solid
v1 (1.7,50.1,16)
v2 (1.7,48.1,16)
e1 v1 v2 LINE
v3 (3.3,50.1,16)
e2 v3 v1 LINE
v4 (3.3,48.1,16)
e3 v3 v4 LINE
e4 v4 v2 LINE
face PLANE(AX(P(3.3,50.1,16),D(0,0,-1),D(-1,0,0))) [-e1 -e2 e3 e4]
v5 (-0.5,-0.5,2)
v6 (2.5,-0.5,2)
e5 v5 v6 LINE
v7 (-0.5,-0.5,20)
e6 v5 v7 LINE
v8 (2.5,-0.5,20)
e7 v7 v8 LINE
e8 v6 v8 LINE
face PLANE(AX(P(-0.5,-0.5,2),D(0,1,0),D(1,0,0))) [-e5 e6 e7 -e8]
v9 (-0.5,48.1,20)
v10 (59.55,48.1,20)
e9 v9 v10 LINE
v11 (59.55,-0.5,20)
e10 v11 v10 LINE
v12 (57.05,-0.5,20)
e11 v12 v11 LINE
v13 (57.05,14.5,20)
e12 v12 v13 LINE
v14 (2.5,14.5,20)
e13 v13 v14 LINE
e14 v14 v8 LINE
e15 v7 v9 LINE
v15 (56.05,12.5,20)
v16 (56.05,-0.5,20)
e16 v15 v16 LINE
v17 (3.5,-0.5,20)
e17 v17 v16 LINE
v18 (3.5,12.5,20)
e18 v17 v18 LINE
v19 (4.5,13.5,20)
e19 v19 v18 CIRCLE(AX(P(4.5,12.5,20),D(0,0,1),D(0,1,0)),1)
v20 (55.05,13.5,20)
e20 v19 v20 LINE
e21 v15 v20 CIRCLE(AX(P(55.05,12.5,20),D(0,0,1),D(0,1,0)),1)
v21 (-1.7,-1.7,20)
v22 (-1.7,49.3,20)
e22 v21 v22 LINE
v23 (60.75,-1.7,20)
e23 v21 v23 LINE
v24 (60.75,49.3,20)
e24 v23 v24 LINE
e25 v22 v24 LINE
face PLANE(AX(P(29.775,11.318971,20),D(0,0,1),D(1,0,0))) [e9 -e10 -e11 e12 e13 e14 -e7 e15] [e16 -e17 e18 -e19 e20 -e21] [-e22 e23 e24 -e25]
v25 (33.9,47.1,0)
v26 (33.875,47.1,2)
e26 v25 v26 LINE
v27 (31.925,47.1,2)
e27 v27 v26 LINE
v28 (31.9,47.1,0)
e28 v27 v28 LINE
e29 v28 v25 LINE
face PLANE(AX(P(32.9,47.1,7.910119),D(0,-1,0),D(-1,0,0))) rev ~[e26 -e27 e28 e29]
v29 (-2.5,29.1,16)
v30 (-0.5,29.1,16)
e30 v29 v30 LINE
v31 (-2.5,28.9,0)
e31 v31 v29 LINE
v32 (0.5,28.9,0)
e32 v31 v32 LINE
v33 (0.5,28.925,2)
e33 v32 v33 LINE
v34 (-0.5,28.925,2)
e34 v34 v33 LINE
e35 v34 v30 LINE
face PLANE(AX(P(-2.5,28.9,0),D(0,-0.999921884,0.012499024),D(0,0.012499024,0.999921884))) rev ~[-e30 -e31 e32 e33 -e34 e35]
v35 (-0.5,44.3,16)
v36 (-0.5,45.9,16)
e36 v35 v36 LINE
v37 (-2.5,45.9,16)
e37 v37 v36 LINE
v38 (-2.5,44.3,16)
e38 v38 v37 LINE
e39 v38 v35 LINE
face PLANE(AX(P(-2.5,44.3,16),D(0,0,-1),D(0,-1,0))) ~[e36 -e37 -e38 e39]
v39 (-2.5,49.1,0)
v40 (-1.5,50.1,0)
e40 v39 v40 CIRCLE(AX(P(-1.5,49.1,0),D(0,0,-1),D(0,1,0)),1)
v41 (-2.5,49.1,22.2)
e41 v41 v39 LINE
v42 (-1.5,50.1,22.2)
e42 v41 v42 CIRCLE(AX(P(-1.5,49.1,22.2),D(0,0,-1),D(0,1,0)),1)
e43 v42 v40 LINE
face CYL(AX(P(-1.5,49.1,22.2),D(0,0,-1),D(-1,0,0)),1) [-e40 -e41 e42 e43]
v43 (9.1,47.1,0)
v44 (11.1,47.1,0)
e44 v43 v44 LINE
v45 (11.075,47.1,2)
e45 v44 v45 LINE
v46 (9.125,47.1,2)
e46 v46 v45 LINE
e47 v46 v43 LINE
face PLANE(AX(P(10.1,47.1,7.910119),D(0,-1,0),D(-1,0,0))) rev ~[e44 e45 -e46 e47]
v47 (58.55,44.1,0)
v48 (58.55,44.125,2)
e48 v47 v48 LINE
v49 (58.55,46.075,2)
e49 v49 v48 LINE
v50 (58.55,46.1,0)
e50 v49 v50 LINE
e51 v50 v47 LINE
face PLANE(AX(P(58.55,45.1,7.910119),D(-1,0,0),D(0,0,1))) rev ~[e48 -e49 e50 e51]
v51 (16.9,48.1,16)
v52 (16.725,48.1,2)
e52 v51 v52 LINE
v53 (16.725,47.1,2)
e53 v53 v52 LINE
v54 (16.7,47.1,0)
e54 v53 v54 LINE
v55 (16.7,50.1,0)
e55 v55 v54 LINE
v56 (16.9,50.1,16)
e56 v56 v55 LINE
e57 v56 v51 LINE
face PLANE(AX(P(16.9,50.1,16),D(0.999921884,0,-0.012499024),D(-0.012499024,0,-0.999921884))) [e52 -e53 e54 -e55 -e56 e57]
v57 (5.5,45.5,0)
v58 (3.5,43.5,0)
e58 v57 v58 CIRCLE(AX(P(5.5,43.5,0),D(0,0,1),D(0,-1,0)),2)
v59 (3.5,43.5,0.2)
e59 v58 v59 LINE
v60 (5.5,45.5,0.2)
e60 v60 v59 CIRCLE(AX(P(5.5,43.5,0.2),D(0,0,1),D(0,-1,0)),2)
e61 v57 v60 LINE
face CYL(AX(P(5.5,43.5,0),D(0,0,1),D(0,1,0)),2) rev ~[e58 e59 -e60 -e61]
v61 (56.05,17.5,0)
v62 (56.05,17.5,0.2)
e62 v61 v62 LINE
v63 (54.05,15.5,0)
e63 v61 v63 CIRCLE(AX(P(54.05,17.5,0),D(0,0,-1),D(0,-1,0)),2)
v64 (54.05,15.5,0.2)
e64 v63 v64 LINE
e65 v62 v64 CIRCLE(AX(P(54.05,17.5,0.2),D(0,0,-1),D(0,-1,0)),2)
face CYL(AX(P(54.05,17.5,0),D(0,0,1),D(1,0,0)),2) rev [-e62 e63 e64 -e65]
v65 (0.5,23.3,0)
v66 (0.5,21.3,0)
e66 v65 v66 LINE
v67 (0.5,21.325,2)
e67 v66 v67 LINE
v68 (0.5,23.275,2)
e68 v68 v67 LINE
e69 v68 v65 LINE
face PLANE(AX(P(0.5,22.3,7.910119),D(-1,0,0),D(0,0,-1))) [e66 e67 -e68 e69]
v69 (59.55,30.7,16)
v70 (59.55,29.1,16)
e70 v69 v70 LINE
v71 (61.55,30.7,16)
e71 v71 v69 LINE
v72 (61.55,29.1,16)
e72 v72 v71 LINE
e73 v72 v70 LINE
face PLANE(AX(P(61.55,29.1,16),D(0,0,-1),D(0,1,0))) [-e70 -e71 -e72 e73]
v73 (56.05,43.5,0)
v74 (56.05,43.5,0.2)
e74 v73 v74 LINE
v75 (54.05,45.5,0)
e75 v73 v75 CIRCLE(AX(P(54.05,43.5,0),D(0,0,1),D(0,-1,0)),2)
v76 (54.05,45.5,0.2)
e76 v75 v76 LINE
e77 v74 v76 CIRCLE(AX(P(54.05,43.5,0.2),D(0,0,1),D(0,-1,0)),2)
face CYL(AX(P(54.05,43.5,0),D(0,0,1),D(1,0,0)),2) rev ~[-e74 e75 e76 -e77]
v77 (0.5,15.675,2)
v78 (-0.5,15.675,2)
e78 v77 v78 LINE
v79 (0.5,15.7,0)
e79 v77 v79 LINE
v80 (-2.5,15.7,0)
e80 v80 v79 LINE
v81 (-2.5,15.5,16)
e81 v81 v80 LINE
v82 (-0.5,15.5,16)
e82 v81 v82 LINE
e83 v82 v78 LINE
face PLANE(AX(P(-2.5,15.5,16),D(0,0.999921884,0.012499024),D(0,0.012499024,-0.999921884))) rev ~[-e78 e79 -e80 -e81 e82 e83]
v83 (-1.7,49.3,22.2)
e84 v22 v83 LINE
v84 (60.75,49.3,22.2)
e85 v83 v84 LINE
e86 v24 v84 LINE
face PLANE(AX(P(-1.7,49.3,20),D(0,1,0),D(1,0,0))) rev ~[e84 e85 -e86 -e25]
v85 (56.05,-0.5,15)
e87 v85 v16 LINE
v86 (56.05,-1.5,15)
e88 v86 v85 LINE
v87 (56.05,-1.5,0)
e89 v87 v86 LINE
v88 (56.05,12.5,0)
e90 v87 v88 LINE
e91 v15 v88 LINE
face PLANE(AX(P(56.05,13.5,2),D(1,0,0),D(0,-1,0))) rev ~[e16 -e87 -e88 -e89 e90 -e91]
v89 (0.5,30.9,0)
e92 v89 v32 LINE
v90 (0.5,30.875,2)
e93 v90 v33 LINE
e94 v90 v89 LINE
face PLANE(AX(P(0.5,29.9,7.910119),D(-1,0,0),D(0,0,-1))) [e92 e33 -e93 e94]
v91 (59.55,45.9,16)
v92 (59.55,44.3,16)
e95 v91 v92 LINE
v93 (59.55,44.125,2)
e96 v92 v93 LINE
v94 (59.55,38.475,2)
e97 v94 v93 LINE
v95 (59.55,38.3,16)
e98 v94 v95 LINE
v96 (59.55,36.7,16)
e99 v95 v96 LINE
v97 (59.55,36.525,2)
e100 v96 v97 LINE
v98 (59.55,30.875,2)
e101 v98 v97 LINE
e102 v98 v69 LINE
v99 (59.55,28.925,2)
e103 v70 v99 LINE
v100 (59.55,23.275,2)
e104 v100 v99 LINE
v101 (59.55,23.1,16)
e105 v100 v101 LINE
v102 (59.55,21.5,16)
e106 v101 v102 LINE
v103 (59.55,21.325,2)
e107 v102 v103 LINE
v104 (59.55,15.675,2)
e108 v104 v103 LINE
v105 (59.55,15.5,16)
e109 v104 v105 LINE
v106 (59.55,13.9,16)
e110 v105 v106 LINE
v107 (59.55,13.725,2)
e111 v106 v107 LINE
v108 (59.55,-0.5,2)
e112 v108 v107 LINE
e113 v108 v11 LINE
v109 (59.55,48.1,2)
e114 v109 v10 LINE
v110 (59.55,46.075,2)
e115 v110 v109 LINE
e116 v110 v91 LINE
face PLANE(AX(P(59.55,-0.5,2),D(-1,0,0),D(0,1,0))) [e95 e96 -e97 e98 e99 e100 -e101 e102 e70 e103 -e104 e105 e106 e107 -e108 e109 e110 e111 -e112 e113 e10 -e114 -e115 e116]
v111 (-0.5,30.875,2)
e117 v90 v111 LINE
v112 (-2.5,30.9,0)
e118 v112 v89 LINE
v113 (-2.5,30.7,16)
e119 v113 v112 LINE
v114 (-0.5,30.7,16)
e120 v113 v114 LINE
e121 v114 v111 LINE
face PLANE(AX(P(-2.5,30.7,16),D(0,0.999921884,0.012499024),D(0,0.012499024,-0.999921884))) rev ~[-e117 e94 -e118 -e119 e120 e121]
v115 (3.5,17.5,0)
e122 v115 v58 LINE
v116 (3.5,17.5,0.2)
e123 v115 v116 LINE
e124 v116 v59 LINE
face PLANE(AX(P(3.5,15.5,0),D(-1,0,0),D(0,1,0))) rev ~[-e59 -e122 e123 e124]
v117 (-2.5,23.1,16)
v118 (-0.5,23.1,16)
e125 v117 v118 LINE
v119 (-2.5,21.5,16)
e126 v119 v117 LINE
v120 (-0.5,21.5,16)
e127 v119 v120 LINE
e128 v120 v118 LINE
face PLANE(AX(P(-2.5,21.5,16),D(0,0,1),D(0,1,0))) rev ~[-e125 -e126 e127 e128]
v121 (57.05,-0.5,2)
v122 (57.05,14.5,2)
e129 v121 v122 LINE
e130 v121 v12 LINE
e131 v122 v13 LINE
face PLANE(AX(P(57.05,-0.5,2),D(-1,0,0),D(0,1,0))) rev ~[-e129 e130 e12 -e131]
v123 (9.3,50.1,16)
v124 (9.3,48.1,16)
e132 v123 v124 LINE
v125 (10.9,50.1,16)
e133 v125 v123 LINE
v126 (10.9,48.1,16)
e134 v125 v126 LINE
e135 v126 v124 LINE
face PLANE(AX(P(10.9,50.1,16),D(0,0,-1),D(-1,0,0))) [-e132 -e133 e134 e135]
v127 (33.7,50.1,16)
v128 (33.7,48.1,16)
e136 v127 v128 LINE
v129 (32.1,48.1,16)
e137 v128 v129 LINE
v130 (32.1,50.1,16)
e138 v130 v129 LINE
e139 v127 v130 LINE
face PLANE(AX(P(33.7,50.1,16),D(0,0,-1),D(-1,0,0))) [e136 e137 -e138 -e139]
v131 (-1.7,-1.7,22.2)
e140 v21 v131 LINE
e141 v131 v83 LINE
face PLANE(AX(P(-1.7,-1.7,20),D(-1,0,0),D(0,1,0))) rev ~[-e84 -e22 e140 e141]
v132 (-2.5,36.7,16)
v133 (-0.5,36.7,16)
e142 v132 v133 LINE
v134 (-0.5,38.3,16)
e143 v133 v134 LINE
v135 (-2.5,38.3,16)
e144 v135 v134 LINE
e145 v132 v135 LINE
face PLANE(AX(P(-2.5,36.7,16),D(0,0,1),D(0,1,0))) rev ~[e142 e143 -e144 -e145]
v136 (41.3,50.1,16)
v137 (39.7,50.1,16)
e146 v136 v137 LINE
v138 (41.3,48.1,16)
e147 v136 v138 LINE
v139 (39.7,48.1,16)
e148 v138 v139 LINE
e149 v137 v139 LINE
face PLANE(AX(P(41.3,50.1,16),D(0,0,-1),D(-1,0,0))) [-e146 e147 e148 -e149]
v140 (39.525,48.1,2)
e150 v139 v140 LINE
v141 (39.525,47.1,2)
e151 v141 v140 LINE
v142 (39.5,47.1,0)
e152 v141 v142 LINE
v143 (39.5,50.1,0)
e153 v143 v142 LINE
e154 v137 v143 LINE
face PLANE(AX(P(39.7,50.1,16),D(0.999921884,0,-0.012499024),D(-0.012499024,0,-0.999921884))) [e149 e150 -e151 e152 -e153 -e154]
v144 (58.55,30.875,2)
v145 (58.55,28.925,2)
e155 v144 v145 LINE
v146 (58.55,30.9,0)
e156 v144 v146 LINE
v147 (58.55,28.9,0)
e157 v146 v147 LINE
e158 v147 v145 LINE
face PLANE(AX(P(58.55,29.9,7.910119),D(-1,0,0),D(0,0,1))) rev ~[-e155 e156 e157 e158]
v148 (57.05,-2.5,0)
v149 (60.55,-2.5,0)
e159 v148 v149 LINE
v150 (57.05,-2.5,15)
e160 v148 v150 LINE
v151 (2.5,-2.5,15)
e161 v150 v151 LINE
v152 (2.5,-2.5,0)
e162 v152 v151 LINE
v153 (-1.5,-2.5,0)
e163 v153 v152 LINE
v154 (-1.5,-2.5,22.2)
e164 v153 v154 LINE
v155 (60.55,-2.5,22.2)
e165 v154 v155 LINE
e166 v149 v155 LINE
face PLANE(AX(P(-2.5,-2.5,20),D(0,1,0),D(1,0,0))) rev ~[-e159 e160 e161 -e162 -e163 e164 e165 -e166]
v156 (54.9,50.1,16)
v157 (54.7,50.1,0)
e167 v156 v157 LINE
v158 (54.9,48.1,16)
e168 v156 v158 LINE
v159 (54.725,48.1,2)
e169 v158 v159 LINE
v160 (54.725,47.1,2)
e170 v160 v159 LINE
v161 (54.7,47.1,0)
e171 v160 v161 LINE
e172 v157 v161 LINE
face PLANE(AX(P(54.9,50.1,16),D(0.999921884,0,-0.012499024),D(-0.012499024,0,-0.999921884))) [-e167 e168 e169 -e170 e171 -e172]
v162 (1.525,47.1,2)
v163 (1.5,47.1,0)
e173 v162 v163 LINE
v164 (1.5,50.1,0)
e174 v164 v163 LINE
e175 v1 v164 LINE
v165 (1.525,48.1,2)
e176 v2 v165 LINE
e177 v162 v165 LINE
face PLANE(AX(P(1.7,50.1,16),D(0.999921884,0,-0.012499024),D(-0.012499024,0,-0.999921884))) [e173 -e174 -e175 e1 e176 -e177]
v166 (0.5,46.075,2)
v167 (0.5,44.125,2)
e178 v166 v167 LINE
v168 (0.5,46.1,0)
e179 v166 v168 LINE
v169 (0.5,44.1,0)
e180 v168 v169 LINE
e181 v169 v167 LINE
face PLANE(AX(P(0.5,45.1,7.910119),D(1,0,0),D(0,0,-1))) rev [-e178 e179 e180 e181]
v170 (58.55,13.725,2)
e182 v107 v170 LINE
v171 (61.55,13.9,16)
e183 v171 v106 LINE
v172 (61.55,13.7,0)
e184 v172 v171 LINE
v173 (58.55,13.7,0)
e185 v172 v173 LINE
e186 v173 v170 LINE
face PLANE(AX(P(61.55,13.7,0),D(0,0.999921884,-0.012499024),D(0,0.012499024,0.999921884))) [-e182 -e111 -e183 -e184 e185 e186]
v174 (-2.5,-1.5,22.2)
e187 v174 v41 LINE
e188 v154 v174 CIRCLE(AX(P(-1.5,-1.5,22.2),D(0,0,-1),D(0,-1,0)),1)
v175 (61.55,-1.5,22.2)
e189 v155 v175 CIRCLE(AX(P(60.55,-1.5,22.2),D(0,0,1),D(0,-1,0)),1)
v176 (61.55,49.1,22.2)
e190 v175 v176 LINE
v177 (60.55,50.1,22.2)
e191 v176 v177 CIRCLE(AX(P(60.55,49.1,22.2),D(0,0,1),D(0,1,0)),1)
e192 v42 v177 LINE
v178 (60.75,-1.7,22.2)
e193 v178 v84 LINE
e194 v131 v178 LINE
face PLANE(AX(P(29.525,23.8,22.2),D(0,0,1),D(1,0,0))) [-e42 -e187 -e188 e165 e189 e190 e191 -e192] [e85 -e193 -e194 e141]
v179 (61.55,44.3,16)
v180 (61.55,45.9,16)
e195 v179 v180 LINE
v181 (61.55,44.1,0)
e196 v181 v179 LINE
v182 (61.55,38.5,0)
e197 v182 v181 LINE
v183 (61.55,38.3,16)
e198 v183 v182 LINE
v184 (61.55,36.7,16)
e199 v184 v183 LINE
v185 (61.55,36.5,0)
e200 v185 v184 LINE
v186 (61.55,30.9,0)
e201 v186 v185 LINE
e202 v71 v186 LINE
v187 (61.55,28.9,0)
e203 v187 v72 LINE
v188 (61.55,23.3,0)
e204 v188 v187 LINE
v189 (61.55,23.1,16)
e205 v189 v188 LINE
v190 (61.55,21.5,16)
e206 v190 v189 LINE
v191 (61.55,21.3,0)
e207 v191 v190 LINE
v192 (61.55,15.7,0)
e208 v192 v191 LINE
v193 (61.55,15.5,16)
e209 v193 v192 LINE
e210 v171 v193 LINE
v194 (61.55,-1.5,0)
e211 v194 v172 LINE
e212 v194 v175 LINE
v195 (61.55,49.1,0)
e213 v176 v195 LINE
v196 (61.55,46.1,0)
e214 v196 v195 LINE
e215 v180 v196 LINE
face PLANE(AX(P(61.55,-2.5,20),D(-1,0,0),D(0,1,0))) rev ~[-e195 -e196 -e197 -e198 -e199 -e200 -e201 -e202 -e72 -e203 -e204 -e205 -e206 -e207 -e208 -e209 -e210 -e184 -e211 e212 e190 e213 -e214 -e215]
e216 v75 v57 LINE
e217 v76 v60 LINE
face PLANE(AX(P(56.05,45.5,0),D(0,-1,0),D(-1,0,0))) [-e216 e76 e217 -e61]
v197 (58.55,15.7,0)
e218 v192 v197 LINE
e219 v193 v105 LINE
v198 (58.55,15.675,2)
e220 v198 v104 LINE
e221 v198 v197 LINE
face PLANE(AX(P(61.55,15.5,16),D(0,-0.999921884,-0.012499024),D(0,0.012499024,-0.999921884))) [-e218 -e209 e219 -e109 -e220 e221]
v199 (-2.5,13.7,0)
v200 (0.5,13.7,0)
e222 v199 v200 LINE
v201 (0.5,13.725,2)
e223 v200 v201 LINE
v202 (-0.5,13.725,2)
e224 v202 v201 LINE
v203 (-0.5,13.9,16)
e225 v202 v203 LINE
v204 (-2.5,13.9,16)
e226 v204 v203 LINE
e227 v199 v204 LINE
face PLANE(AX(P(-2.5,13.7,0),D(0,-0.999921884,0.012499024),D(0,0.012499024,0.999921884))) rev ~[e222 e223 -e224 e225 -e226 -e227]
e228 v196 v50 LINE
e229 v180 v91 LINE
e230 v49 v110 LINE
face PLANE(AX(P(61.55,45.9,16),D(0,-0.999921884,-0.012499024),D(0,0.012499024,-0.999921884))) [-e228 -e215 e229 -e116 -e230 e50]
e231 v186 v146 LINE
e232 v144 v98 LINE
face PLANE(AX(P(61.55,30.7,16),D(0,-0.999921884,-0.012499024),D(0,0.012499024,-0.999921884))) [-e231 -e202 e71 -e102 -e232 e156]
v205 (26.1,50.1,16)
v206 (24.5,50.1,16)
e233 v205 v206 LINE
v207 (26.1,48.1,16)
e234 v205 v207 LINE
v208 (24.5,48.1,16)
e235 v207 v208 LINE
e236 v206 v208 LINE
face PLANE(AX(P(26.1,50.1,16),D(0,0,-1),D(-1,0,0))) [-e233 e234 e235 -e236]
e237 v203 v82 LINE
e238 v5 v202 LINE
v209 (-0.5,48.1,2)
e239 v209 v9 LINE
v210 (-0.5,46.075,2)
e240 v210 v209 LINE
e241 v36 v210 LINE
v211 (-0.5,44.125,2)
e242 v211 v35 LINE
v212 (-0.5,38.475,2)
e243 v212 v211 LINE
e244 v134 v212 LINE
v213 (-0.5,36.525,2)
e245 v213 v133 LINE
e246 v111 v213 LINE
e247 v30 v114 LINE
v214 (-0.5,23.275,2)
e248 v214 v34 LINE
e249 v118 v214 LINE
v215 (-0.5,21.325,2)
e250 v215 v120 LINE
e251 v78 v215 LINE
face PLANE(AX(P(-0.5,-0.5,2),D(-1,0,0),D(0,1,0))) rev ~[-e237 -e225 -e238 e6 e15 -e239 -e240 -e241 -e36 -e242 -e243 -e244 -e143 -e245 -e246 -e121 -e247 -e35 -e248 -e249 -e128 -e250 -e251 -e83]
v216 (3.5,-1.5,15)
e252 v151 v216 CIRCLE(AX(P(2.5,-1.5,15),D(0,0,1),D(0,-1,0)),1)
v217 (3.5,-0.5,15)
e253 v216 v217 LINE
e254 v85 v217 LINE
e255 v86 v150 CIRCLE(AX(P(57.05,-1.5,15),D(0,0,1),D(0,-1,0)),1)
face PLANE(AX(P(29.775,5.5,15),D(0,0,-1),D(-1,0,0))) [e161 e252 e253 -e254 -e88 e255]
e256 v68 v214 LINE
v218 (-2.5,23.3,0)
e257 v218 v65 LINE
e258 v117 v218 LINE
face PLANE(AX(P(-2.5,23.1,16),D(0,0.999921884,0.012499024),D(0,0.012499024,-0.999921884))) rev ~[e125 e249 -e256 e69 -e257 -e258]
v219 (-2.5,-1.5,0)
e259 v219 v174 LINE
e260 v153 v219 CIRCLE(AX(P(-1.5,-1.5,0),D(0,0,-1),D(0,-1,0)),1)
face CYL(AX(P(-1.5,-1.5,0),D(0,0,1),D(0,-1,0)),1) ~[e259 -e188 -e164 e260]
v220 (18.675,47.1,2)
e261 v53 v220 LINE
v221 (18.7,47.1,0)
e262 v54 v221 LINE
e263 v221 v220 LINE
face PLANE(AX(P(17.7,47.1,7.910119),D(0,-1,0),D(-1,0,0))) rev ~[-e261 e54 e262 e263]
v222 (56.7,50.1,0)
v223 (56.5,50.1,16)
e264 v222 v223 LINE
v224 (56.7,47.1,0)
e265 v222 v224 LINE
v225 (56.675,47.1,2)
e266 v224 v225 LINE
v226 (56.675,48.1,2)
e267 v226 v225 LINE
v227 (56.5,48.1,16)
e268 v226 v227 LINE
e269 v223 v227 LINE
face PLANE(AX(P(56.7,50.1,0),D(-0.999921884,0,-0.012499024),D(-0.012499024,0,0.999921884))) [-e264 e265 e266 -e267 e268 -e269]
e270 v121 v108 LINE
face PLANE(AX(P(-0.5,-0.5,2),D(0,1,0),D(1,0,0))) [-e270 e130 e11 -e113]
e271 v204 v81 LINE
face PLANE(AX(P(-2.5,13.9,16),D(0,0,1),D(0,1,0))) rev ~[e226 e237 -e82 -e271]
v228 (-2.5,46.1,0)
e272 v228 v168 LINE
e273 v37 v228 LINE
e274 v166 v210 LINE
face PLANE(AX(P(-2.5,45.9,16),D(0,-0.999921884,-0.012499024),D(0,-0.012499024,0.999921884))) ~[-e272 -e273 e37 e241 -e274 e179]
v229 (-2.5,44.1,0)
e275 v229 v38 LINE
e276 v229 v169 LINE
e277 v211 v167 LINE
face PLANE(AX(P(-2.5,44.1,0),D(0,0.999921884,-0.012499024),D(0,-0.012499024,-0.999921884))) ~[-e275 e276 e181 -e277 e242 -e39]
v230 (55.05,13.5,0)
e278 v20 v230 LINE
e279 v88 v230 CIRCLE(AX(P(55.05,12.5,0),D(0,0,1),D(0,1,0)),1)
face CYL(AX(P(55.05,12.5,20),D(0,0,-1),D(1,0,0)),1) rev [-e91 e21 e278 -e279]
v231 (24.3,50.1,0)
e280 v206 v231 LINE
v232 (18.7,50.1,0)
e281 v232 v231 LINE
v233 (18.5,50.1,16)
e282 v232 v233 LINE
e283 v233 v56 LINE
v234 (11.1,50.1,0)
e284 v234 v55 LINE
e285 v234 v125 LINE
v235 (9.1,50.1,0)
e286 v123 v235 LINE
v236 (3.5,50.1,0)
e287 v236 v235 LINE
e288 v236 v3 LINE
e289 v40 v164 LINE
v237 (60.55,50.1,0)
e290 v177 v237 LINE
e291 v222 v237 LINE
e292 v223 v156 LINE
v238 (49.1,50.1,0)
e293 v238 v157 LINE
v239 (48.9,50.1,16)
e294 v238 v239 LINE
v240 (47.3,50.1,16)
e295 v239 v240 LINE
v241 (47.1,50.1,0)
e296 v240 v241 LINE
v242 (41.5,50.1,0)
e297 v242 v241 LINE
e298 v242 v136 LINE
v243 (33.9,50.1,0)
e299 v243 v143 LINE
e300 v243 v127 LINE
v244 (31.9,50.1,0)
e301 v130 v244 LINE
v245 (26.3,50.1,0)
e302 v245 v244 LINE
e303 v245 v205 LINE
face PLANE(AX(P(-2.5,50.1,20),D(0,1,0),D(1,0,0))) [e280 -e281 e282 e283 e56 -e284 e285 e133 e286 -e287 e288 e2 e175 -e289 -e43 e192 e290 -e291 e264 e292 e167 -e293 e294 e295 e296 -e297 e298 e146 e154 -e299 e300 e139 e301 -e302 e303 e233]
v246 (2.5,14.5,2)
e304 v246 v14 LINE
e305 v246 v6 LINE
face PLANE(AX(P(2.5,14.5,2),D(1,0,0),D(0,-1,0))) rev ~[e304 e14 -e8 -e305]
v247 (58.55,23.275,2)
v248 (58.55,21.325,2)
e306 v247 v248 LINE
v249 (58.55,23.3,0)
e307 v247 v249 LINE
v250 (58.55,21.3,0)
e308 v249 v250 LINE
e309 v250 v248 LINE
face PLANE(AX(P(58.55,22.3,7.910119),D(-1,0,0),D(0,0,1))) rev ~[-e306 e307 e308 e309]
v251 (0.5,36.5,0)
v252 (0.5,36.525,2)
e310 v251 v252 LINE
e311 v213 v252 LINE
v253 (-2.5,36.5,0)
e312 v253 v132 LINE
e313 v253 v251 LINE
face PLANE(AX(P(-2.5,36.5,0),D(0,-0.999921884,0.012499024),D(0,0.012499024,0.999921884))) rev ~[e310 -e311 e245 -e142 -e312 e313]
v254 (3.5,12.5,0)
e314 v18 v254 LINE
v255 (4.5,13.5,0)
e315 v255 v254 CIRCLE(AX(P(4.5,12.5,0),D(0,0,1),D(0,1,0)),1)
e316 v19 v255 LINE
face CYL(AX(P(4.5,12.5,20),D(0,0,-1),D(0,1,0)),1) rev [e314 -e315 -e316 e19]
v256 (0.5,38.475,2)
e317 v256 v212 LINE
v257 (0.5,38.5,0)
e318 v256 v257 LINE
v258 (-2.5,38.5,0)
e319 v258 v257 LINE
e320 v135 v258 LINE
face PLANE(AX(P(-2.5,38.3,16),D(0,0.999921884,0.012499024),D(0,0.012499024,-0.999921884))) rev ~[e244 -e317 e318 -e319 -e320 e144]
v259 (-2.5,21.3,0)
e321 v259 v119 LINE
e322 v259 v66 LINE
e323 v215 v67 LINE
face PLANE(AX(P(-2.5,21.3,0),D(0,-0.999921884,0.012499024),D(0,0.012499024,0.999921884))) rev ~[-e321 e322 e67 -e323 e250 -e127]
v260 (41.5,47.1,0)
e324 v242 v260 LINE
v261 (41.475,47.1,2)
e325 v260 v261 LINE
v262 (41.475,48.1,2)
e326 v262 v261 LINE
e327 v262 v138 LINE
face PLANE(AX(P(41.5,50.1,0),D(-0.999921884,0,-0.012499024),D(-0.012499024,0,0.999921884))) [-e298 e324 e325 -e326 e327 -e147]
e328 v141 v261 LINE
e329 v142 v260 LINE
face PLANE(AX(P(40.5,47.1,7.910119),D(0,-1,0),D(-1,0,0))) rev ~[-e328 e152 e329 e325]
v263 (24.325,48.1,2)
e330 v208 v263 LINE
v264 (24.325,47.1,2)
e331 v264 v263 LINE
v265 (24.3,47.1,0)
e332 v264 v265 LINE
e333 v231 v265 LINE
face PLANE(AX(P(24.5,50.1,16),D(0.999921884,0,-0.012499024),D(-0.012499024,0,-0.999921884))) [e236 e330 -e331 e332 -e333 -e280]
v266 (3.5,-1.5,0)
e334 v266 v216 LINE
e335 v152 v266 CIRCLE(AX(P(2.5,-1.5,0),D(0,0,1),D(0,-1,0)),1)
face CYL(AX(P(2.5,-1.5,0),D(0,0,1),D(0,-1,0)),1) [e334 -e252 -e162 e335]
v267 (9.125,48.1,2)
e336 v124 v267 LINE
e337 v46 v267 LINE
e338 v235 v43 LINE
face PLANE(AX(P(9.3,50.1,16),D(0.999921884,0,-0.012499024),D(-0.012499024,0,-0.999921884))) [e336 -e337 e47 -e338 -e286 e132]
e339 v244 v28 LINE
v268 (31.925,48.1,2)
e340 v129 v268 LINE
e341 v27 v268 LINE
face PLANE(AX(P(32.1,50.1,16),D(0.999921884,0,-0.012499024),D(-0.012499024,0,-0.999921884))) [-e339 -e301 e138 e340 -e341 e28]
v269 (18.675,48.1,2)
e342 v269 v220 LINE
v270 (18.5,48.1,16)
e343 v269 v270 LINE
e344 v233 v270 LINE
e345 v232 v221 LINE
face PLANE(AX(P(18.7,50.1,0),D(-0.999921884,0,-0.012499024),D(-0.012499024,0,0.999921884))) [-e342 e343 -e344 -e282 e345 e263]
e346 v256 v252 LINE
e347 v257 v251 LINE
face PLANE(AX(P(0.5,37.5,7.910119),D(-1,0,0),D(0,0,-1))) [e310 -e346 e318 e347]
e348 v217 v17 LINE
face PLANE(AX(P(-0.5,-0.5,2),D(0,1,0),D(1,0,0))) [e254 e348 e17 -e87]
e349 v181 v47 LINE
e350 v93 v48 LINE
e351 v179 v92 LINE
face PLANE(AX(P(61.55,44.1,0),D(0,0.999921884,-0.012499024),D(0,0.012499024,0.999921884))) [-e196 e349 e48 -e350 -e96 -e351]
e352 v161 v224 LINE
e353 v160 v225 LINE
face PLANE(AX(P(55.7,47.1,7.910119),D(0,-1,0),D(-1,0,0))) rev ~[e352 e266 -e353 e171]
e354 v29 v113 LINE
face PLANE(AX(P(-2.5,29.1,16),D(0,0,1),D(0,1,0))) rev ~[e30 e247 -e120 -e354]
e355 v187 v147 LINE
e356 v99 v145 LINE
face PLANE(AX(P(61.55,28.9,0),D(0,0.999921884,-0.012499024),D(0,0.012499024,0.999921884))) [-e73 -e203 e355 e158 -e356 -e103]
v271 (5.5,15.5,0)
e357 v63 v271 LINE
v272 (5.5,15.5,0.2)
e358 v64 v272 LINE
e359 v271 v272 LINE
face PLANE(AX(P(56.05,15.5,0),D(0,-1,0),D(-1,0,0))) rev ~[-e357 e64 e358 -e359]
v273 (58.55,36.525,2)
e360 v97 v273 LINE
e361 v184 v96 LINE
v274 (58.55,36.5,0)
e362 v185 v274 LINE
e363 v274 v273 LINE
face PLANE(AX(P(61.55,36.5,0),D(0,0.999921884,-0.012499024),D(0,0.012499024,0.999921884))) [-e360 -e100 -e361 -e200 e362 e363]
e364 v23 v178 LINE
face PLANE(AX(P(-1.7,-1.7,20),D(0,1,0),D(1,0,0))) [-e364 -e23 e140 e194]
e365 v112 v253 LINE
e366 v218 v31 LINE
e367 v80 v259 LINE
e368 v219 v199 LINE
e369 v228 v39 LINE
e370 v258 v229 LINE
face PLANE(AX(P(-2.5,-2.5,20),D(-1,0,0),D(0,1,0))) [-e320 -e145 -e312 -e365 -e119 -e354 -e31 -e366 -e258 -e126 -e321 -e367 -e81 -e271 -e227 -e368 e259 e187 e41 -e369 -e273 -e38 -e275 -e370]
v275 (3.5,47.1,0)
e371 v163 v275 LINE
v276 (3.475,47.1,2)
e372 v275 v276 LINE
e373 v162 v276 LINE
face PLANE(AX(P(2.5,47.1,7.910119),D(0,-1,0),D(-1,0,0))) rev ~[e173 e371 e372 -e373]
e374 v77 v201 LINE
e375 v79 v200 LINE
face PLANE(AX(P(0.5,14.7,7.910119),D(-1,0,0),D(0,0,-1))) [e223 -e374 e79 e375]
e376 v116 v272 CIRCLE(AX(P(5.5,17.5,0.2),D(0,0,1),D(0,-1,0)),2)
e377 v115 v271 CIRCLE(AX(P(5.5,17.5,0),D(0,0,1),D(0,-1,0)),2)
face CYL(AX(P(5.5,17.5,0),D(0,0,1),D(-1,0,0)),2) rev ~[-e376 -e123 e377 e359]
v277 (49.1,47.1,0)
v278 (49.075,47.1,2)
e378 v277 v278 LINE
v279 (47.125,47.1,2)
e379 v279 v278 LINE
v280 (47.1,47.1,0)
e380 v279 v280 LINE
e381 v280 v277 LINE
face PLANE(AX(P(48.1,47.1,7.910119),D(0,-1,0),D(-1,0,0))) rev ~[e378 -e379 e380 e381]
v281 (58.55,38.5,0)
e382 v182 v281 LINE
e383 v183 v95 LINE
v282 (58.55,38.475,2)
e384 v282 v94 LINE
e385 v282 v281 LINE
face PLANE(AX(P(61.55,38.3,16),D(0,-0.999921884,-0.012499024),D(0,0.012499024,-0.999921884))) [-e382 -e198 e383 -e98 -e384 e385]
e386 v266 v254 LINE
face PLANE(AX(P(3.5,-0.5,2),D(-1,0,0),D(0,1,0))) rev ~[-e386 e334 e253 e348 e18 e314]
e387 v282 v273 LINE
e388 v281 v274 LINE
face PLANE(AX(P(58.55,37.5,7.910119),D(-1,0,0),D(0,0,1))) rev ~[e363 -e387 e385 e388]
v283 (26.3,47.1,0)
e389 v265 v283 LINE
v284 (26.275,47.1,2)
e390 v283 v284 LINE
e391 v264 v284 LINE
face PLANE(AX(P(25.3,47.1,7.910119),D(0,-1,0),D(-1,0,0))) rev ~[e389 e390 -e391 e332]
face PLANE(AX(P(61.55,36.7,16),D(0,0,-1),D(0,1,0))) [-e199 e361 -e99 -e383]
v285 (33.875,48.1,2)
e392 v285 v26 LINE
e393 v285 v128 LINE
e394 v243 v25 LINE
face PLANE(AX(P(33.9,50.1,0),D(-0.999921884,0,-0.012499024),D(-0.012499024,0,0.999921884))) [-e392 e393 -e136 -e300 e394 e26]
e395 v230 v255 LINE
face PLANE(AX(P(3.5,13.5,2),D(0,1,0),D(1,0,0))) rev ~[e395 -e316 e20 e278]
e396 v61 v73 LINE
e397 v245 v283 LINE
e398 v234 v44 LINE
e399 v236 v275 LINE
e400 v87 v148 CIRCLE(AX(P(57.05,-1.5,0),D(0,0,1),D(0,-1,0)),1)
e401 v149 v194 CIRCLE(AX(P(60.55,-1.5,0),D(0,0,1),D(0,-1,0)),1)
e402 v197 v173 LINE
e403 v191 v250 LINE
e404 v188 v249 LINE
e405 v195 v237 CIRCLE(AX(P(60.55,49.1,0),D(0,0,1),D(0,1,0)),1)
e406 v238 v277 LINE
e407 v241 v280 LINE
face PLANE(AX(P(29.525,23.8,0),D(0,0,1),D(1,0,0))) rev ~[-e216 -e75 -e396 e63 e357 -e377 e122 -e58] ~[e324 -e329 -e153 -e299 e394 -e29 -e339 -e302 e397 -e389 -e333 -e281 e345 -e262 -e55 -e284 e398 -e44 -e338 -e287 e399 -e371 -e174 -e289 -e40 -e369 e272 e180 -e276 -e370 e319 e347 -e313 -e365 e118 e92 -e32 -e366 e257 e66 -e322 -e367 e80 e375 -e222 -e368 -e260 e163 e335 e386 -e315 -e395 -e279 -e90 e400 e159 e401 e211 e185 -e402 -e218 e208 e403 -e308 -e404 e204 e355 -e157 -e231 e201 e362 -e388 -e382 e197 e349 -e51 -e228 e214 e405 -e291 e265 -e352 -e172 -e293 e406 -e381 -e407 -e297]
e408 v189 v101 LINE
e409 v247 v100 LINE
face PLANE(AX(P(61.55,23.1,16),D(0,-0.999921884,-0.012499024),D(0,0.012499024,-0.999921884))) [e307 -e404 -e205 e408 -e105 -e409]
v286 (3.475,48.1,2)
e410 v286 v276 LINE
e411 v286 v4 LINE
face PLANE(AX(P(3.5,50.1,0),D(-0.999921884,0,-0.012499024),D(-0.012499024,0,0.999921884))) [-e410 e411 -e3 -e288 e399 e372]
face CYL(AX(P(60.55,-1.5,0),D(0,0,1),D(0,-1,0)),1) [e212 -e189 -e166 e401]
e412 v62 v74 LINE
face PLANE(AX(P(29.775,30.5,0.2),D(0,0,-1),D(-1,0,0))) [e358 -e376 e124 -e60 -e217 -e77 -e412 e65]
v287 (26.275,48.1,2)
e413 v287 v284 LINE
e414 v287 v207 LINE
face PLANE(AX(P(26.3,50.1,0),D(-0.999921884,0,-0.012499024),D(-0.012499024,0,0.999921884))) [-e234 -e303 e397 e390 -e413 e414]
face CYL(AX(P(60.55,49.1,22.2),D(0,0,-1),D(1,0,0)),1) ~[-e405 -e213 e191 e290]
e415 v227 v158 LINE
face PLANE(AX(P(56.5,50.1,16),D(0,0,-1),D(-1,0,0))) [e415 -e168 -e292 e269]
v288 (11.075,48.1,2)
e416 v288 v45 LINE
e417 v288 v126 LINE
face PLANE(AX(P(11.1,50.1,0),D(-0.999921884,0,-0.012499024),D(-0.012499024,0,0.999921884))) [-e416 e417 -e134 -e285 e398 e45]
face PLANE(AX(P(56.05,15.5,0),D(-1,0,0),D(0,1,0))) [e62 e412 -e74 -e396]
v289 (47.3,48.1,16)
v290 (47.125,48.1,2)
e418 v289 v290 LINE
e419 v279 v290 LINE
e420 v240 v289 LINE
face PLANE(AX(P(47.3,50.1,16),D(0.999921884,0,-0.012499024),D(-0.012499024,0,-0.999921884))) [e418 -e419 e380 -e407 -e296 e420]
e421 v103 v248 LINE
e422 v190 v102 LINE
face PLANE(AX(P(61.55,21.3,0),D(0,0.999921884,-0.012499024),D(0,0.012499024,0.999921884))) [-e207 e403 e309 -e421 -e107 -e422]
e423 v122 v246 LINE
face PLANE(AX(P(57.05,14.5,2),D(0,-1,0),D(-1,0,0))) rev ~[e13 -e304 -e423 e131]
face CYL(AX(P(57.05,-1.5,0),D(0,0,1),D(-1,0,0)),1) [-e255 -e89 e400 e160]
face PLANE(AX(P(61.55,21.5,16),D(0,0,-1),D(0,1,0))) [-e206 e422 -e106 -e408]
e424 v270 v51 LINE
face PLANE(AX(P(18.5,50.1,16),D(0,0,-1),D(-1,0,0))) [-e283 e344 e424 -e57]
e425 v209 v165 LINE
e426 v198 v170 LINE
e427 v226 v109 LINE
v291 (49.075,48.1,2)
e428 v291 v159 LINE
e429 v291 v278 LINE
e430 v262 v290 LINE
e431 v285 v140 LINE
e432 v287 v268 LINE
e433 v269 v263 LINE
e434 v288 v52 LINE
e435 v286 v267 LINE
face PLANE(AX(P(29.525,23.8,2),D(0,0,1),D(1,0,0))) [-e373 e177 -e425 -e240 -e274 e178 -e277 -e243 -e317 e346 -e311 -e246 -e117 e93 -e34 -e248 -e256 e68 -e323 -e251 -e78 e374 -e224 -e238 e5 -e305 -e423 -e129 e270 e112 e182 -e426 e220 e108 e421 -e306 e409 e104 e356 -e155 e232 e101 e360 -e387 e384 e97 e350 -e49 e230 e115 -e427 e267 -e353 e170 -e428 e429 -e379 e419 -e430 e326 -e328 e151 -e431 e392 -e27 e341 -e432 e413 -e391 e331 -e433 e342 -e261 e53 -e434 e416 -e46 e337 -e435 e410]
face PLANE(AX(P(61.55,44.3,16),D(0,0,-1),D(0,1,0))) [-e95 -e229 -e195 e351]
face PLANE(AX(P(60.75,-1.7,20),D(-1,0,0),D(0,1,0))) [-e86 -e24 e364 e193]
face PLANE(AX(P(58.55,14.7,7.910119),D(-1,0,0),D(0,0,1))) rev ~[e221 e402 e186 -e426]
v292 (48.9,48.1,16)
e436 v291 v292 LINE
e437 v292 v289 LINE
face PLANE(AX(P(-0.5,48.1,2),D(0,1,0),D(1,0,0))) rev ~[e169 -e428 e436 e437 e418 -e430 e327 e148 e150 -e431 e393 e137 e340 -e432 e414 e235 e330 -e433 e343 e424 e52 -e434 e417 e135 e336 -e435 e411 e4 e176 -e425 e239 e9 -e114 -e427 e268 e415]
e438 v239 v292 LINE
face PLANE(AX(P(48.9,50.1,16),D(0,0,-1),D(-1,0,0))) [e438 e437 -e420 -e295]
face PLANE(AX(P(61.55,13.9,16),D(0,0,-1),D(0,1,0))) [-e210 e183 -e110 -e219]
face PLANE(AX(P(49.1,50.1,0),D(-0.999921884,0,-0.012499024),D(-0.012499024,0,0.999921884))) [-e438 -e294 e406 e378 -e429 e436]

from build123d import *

# Parameters (mm, degrees)
SKETCH1_W            = 64.05
SKETCH1_H            = 52.6
BOSS_EXTRUDE1_DEPTH  = 2
SKETCH2_W            = 64.05
SKETCH2_H            = 52.6
SKETCH2_W_2          = 60.05
SKETCH2_H_2          = 48.6
BOSS_EXTRUDE2_DEPTH  = 18
SKETCH3_W            = 64.05
SKETCH3_H            = 52.6
SKETCH3_W_2          = 62.45
SKETCH3_H_2          = 51
BOSS_EXTRUDE3_DEPTH  = 2.2
SKETCH6_W            = 52.55
SKETCH6_H            = 16
CUT_EXTRUDE2_DEPTH   = 15
BOSS_EXTRUDE4_DEPTH  = 18
CUT_EXTRUDE3_DEPTH   = 3
LPATTERN1_COUNT      = 8
LPATTERN1_PITCH      = 7.6
CUT_EXTRUDE4_DEPTH   = 3
LPATTERN2_COUNT      = 5
LPATTERN2_PITCH      = 7.6
MIRROR1_COPY_1_DEPTH = 3
MIRROR1_COPY_2_DEPTH = 3
MIRROR1_COPY_3_DEPTH = 3
MIRROR1_COPY_4_DEPTH = 3
FILLET1_R            = 1
SKETCH10_W           = 52.55
SKETCH10_H           = 30
CUT_EXTRUDE5_DEPTH   = 0.2
FILLET2_R            = 2


with BuildPart() as part:
    # Sketch1 → Boss-Extrude1 (new body)
    with BuildSketch(Plane.XY):
        with Locations((29.525, 23.8)):
            Rectangle(SKETCH1_W, SKETCH1_H)
    extrude(amount=BOSS_EXTRUDE1_DEPTH)

    # Sketch2 → Boss-Extrude2 (add)
    with BuildSketch(Plane.XY.offset(2)):
        with Locations((29.525, 23.8)):
            Rectangle(SKETCH2_W, SKETCH2_H)
        with Locations((29.525, 23.8)):
            Rectangle(SKETCH2_W_2, SKETCH2_H_2, mode=Mode.SUBTRACT)
    extrude(amount=BOSS_EXTRUDE2_DEPTH)

    # Sketch3 → Boss-Extrude3 (add)
    with BuildSketch(Plane.XY.offset(20)):
        with Locations((29.525, 23.8)):
            Rectangle(SKETCH3_W, SKETCH3_H)
        with Locations((29.525, 23.8)):
            Rectangle(SKETCH3_W_2, SKETCH3_H_2, mode=Mode.SUBTRACT)
    extrude(amount=BOSS_EXTRUDE3_DEPTH)

    # Sketch6 → Cut-Extrude2 (cut)
    with BuildSketch(Plane(origin=(0, 0, 0), x_dir=(-1, 0, 0), z_dir=(0, 0, -1))):
        with Locations((-29.775, 5.5)):
            Rectangle(SKETCH6_W, SKETCH6_H)
    extrude(amount=-CUT_EXTRUDE2_DEPTH, mode=Mode.SUBTRACT)

    # Sketch7 → Boss-Extrude4 (add)
    with BuildSketch(Plane.XY.offset(2)):
        Polygon((56.05, 13.5), (56.05, -0.5), (57.05, -0.5), (57.05, 14.5), (2.5, 14.5), (2.5, -0.5), (3.5, -0.5), (3.5, 13.5), align=None)
    extrude(amount=BOSS_EXTRUDE4_DEPTH)

    # Sketch8 → Cut-Extrude3 (cut)
    with BuildSketch(Plane(origin=(0, 50.1, 0), x_dir=(1, 0, 0), z_dir=(0, 1, 0))):
        Polygon((1.5, 0), (3.5, 0), (3.3, -16), (1.7, -16), align=None)
    cut_extrude3 = extrude(amount=-CUT_EXTRUDE3_DEPTH, mode=Mode.SUBTRACT)

    # LPattern1: Cut-Extrude3 ×8
    with Locations(*[(i * LPATTERN1_PITCH, 0, 0) for i in range(1, LPATTERN1_COUNT)]):
        add(cut_extrude3, mode=Mode.SUBTRACT)

    # Sketch9 → Cut-Extrude4 (cut)
    with BuildSketch(Plane(origin=(61.55, 0, 0), x_dir=(0, 0, -1), z_dir=(1, 0, 0))):
        Polygon((0, 46.1), (0, 44.1), (-16, 44.3), (-16, 45.9), align=None)
    cut_extrude4 = extrude(amount=-CUT_EXTRUDE4_DEPTH, mode=Mode.SUBTRACT)

    # LPattern2: Cut-Extrude4 ×5
    with Locations(*[(0, -i * LPATTERN2_PITCH, 0) for i in range(1, LPATTERN2_COUNT)]):
        add(cut_extrude4, mode=Mode.SUBTRACT)

    # Mirror1: Cut-Extrude4 across plane
    add(cut_extrude4.mirror(Plane(origin=(29.525, 0, 0), x_dir=(0, 0, 1), z_dir=(1, 0, 0))), mode=Mode.SUBTRACT)

    # Mirror1 copy 1 sketch → Mirror1 copy 1 (cut)
    with BuildSketch(Plane(origin=(-2.5, -7.6, 0), x_dir=(0, 0, -1), z_dir=(-1, 0, 0))):
        Polygon((0, -46.1), (0, -44.1), (-16, -44.3), (-16, -45.9), align=None)
    extrude(amount=-MIRROR1_COPY_1_DEPTH, mode=Mode.SUBTRACT)

    # Mirror1 copy 2 sketch → Mirror1 copy 2 (cut)
    with BuildSketch(Plane(origin=(-2.5, -15.2, 0), x_dir=(0, 0, -1), z_dir=(-1, 0, 0))):
        Polygon((0, -46.1), (0, -44.1), (-16, -44.3), (-16, -45.9), align=None)
    extrude(amount=-MIRROR1_COPY_2_DEPTH, mode=Mode.SUBTRACT)

    # Mirror1 copy 3 sketch → Mirror1 copy 3 (cut)
    with BuildSketch(Plane(origin=(-2.5, -22.8, 0), x_dir=(0, 0, -1), z_dir=(-1, 0, 0))):
        Polygon((0, -46.1), (0, -44.1), (-16, -44.3), (-16, -45.9), align=None)
    extrude(amount=-MIRROR1_COPY_3_DEPTH, mode=Mode.SUBTRACT)

    # Mirror1 copy 4 sketch → Mirror1 copy 4 (cut)
    with BuildSketch(Plane(origin=(-2.5, -30.4, 0), x_dir=(0, 0, -1), z_dir=(-1, 0, 0))):
        Polygon((0, -46.1), (0, -44.1), (-16, -44.3), (-16, -45.9), align=None)
    extrude(amount=-MIRROR1_COPY_4_DEPTH, mode=Mode.SUBTRACT)

    # Fillet1
    fillet1_edges = [part.edges().sort_by_distance(p)[0] for p in [
        (56.05, 13.5, 10),
        (3.5, 13.5, 10),
        (3.5, -2.5, 7.5),
        (56.05, -2.5, 7.5),
        (-2.5, 50.1, 11.1),
        (61.55, 50.1, 11.1),
        (61.55, -2.5, 11.1),
        (-2.5, -2.5, 11.1),
    ]]
    fillet(fillet1_edges, radius=FILLET1_R)

    # Sketch10 → Cut-Extrude5 (cut)
    with BuildSketch(Plane(origin=(0, 0, 0), x_dir=(-1, 0, 0), z_dir=(0, 0, -1))):
        with Locations((-29.775, 30.5)):
            Rectangle(SKETCH10_W, SKETCH10_H)
    extrude(amount=-CUT_EXTRUDE5_DEPTH, mode=Mode.SUBTRACT)

    # Fillet2
    fillet2_edges = [part.edges().sort_by_distance(p)[0] for p in [
        (3.5, 45.5, 0.1),
        (3.5, 15.5, 0.1),
        (56.05, 15.5, 0.1),
        (56.05, 45.5, 0.1),
    ]]
    fillet(fillet2_edges, radius=FILLET2_R)


solid = part.part
